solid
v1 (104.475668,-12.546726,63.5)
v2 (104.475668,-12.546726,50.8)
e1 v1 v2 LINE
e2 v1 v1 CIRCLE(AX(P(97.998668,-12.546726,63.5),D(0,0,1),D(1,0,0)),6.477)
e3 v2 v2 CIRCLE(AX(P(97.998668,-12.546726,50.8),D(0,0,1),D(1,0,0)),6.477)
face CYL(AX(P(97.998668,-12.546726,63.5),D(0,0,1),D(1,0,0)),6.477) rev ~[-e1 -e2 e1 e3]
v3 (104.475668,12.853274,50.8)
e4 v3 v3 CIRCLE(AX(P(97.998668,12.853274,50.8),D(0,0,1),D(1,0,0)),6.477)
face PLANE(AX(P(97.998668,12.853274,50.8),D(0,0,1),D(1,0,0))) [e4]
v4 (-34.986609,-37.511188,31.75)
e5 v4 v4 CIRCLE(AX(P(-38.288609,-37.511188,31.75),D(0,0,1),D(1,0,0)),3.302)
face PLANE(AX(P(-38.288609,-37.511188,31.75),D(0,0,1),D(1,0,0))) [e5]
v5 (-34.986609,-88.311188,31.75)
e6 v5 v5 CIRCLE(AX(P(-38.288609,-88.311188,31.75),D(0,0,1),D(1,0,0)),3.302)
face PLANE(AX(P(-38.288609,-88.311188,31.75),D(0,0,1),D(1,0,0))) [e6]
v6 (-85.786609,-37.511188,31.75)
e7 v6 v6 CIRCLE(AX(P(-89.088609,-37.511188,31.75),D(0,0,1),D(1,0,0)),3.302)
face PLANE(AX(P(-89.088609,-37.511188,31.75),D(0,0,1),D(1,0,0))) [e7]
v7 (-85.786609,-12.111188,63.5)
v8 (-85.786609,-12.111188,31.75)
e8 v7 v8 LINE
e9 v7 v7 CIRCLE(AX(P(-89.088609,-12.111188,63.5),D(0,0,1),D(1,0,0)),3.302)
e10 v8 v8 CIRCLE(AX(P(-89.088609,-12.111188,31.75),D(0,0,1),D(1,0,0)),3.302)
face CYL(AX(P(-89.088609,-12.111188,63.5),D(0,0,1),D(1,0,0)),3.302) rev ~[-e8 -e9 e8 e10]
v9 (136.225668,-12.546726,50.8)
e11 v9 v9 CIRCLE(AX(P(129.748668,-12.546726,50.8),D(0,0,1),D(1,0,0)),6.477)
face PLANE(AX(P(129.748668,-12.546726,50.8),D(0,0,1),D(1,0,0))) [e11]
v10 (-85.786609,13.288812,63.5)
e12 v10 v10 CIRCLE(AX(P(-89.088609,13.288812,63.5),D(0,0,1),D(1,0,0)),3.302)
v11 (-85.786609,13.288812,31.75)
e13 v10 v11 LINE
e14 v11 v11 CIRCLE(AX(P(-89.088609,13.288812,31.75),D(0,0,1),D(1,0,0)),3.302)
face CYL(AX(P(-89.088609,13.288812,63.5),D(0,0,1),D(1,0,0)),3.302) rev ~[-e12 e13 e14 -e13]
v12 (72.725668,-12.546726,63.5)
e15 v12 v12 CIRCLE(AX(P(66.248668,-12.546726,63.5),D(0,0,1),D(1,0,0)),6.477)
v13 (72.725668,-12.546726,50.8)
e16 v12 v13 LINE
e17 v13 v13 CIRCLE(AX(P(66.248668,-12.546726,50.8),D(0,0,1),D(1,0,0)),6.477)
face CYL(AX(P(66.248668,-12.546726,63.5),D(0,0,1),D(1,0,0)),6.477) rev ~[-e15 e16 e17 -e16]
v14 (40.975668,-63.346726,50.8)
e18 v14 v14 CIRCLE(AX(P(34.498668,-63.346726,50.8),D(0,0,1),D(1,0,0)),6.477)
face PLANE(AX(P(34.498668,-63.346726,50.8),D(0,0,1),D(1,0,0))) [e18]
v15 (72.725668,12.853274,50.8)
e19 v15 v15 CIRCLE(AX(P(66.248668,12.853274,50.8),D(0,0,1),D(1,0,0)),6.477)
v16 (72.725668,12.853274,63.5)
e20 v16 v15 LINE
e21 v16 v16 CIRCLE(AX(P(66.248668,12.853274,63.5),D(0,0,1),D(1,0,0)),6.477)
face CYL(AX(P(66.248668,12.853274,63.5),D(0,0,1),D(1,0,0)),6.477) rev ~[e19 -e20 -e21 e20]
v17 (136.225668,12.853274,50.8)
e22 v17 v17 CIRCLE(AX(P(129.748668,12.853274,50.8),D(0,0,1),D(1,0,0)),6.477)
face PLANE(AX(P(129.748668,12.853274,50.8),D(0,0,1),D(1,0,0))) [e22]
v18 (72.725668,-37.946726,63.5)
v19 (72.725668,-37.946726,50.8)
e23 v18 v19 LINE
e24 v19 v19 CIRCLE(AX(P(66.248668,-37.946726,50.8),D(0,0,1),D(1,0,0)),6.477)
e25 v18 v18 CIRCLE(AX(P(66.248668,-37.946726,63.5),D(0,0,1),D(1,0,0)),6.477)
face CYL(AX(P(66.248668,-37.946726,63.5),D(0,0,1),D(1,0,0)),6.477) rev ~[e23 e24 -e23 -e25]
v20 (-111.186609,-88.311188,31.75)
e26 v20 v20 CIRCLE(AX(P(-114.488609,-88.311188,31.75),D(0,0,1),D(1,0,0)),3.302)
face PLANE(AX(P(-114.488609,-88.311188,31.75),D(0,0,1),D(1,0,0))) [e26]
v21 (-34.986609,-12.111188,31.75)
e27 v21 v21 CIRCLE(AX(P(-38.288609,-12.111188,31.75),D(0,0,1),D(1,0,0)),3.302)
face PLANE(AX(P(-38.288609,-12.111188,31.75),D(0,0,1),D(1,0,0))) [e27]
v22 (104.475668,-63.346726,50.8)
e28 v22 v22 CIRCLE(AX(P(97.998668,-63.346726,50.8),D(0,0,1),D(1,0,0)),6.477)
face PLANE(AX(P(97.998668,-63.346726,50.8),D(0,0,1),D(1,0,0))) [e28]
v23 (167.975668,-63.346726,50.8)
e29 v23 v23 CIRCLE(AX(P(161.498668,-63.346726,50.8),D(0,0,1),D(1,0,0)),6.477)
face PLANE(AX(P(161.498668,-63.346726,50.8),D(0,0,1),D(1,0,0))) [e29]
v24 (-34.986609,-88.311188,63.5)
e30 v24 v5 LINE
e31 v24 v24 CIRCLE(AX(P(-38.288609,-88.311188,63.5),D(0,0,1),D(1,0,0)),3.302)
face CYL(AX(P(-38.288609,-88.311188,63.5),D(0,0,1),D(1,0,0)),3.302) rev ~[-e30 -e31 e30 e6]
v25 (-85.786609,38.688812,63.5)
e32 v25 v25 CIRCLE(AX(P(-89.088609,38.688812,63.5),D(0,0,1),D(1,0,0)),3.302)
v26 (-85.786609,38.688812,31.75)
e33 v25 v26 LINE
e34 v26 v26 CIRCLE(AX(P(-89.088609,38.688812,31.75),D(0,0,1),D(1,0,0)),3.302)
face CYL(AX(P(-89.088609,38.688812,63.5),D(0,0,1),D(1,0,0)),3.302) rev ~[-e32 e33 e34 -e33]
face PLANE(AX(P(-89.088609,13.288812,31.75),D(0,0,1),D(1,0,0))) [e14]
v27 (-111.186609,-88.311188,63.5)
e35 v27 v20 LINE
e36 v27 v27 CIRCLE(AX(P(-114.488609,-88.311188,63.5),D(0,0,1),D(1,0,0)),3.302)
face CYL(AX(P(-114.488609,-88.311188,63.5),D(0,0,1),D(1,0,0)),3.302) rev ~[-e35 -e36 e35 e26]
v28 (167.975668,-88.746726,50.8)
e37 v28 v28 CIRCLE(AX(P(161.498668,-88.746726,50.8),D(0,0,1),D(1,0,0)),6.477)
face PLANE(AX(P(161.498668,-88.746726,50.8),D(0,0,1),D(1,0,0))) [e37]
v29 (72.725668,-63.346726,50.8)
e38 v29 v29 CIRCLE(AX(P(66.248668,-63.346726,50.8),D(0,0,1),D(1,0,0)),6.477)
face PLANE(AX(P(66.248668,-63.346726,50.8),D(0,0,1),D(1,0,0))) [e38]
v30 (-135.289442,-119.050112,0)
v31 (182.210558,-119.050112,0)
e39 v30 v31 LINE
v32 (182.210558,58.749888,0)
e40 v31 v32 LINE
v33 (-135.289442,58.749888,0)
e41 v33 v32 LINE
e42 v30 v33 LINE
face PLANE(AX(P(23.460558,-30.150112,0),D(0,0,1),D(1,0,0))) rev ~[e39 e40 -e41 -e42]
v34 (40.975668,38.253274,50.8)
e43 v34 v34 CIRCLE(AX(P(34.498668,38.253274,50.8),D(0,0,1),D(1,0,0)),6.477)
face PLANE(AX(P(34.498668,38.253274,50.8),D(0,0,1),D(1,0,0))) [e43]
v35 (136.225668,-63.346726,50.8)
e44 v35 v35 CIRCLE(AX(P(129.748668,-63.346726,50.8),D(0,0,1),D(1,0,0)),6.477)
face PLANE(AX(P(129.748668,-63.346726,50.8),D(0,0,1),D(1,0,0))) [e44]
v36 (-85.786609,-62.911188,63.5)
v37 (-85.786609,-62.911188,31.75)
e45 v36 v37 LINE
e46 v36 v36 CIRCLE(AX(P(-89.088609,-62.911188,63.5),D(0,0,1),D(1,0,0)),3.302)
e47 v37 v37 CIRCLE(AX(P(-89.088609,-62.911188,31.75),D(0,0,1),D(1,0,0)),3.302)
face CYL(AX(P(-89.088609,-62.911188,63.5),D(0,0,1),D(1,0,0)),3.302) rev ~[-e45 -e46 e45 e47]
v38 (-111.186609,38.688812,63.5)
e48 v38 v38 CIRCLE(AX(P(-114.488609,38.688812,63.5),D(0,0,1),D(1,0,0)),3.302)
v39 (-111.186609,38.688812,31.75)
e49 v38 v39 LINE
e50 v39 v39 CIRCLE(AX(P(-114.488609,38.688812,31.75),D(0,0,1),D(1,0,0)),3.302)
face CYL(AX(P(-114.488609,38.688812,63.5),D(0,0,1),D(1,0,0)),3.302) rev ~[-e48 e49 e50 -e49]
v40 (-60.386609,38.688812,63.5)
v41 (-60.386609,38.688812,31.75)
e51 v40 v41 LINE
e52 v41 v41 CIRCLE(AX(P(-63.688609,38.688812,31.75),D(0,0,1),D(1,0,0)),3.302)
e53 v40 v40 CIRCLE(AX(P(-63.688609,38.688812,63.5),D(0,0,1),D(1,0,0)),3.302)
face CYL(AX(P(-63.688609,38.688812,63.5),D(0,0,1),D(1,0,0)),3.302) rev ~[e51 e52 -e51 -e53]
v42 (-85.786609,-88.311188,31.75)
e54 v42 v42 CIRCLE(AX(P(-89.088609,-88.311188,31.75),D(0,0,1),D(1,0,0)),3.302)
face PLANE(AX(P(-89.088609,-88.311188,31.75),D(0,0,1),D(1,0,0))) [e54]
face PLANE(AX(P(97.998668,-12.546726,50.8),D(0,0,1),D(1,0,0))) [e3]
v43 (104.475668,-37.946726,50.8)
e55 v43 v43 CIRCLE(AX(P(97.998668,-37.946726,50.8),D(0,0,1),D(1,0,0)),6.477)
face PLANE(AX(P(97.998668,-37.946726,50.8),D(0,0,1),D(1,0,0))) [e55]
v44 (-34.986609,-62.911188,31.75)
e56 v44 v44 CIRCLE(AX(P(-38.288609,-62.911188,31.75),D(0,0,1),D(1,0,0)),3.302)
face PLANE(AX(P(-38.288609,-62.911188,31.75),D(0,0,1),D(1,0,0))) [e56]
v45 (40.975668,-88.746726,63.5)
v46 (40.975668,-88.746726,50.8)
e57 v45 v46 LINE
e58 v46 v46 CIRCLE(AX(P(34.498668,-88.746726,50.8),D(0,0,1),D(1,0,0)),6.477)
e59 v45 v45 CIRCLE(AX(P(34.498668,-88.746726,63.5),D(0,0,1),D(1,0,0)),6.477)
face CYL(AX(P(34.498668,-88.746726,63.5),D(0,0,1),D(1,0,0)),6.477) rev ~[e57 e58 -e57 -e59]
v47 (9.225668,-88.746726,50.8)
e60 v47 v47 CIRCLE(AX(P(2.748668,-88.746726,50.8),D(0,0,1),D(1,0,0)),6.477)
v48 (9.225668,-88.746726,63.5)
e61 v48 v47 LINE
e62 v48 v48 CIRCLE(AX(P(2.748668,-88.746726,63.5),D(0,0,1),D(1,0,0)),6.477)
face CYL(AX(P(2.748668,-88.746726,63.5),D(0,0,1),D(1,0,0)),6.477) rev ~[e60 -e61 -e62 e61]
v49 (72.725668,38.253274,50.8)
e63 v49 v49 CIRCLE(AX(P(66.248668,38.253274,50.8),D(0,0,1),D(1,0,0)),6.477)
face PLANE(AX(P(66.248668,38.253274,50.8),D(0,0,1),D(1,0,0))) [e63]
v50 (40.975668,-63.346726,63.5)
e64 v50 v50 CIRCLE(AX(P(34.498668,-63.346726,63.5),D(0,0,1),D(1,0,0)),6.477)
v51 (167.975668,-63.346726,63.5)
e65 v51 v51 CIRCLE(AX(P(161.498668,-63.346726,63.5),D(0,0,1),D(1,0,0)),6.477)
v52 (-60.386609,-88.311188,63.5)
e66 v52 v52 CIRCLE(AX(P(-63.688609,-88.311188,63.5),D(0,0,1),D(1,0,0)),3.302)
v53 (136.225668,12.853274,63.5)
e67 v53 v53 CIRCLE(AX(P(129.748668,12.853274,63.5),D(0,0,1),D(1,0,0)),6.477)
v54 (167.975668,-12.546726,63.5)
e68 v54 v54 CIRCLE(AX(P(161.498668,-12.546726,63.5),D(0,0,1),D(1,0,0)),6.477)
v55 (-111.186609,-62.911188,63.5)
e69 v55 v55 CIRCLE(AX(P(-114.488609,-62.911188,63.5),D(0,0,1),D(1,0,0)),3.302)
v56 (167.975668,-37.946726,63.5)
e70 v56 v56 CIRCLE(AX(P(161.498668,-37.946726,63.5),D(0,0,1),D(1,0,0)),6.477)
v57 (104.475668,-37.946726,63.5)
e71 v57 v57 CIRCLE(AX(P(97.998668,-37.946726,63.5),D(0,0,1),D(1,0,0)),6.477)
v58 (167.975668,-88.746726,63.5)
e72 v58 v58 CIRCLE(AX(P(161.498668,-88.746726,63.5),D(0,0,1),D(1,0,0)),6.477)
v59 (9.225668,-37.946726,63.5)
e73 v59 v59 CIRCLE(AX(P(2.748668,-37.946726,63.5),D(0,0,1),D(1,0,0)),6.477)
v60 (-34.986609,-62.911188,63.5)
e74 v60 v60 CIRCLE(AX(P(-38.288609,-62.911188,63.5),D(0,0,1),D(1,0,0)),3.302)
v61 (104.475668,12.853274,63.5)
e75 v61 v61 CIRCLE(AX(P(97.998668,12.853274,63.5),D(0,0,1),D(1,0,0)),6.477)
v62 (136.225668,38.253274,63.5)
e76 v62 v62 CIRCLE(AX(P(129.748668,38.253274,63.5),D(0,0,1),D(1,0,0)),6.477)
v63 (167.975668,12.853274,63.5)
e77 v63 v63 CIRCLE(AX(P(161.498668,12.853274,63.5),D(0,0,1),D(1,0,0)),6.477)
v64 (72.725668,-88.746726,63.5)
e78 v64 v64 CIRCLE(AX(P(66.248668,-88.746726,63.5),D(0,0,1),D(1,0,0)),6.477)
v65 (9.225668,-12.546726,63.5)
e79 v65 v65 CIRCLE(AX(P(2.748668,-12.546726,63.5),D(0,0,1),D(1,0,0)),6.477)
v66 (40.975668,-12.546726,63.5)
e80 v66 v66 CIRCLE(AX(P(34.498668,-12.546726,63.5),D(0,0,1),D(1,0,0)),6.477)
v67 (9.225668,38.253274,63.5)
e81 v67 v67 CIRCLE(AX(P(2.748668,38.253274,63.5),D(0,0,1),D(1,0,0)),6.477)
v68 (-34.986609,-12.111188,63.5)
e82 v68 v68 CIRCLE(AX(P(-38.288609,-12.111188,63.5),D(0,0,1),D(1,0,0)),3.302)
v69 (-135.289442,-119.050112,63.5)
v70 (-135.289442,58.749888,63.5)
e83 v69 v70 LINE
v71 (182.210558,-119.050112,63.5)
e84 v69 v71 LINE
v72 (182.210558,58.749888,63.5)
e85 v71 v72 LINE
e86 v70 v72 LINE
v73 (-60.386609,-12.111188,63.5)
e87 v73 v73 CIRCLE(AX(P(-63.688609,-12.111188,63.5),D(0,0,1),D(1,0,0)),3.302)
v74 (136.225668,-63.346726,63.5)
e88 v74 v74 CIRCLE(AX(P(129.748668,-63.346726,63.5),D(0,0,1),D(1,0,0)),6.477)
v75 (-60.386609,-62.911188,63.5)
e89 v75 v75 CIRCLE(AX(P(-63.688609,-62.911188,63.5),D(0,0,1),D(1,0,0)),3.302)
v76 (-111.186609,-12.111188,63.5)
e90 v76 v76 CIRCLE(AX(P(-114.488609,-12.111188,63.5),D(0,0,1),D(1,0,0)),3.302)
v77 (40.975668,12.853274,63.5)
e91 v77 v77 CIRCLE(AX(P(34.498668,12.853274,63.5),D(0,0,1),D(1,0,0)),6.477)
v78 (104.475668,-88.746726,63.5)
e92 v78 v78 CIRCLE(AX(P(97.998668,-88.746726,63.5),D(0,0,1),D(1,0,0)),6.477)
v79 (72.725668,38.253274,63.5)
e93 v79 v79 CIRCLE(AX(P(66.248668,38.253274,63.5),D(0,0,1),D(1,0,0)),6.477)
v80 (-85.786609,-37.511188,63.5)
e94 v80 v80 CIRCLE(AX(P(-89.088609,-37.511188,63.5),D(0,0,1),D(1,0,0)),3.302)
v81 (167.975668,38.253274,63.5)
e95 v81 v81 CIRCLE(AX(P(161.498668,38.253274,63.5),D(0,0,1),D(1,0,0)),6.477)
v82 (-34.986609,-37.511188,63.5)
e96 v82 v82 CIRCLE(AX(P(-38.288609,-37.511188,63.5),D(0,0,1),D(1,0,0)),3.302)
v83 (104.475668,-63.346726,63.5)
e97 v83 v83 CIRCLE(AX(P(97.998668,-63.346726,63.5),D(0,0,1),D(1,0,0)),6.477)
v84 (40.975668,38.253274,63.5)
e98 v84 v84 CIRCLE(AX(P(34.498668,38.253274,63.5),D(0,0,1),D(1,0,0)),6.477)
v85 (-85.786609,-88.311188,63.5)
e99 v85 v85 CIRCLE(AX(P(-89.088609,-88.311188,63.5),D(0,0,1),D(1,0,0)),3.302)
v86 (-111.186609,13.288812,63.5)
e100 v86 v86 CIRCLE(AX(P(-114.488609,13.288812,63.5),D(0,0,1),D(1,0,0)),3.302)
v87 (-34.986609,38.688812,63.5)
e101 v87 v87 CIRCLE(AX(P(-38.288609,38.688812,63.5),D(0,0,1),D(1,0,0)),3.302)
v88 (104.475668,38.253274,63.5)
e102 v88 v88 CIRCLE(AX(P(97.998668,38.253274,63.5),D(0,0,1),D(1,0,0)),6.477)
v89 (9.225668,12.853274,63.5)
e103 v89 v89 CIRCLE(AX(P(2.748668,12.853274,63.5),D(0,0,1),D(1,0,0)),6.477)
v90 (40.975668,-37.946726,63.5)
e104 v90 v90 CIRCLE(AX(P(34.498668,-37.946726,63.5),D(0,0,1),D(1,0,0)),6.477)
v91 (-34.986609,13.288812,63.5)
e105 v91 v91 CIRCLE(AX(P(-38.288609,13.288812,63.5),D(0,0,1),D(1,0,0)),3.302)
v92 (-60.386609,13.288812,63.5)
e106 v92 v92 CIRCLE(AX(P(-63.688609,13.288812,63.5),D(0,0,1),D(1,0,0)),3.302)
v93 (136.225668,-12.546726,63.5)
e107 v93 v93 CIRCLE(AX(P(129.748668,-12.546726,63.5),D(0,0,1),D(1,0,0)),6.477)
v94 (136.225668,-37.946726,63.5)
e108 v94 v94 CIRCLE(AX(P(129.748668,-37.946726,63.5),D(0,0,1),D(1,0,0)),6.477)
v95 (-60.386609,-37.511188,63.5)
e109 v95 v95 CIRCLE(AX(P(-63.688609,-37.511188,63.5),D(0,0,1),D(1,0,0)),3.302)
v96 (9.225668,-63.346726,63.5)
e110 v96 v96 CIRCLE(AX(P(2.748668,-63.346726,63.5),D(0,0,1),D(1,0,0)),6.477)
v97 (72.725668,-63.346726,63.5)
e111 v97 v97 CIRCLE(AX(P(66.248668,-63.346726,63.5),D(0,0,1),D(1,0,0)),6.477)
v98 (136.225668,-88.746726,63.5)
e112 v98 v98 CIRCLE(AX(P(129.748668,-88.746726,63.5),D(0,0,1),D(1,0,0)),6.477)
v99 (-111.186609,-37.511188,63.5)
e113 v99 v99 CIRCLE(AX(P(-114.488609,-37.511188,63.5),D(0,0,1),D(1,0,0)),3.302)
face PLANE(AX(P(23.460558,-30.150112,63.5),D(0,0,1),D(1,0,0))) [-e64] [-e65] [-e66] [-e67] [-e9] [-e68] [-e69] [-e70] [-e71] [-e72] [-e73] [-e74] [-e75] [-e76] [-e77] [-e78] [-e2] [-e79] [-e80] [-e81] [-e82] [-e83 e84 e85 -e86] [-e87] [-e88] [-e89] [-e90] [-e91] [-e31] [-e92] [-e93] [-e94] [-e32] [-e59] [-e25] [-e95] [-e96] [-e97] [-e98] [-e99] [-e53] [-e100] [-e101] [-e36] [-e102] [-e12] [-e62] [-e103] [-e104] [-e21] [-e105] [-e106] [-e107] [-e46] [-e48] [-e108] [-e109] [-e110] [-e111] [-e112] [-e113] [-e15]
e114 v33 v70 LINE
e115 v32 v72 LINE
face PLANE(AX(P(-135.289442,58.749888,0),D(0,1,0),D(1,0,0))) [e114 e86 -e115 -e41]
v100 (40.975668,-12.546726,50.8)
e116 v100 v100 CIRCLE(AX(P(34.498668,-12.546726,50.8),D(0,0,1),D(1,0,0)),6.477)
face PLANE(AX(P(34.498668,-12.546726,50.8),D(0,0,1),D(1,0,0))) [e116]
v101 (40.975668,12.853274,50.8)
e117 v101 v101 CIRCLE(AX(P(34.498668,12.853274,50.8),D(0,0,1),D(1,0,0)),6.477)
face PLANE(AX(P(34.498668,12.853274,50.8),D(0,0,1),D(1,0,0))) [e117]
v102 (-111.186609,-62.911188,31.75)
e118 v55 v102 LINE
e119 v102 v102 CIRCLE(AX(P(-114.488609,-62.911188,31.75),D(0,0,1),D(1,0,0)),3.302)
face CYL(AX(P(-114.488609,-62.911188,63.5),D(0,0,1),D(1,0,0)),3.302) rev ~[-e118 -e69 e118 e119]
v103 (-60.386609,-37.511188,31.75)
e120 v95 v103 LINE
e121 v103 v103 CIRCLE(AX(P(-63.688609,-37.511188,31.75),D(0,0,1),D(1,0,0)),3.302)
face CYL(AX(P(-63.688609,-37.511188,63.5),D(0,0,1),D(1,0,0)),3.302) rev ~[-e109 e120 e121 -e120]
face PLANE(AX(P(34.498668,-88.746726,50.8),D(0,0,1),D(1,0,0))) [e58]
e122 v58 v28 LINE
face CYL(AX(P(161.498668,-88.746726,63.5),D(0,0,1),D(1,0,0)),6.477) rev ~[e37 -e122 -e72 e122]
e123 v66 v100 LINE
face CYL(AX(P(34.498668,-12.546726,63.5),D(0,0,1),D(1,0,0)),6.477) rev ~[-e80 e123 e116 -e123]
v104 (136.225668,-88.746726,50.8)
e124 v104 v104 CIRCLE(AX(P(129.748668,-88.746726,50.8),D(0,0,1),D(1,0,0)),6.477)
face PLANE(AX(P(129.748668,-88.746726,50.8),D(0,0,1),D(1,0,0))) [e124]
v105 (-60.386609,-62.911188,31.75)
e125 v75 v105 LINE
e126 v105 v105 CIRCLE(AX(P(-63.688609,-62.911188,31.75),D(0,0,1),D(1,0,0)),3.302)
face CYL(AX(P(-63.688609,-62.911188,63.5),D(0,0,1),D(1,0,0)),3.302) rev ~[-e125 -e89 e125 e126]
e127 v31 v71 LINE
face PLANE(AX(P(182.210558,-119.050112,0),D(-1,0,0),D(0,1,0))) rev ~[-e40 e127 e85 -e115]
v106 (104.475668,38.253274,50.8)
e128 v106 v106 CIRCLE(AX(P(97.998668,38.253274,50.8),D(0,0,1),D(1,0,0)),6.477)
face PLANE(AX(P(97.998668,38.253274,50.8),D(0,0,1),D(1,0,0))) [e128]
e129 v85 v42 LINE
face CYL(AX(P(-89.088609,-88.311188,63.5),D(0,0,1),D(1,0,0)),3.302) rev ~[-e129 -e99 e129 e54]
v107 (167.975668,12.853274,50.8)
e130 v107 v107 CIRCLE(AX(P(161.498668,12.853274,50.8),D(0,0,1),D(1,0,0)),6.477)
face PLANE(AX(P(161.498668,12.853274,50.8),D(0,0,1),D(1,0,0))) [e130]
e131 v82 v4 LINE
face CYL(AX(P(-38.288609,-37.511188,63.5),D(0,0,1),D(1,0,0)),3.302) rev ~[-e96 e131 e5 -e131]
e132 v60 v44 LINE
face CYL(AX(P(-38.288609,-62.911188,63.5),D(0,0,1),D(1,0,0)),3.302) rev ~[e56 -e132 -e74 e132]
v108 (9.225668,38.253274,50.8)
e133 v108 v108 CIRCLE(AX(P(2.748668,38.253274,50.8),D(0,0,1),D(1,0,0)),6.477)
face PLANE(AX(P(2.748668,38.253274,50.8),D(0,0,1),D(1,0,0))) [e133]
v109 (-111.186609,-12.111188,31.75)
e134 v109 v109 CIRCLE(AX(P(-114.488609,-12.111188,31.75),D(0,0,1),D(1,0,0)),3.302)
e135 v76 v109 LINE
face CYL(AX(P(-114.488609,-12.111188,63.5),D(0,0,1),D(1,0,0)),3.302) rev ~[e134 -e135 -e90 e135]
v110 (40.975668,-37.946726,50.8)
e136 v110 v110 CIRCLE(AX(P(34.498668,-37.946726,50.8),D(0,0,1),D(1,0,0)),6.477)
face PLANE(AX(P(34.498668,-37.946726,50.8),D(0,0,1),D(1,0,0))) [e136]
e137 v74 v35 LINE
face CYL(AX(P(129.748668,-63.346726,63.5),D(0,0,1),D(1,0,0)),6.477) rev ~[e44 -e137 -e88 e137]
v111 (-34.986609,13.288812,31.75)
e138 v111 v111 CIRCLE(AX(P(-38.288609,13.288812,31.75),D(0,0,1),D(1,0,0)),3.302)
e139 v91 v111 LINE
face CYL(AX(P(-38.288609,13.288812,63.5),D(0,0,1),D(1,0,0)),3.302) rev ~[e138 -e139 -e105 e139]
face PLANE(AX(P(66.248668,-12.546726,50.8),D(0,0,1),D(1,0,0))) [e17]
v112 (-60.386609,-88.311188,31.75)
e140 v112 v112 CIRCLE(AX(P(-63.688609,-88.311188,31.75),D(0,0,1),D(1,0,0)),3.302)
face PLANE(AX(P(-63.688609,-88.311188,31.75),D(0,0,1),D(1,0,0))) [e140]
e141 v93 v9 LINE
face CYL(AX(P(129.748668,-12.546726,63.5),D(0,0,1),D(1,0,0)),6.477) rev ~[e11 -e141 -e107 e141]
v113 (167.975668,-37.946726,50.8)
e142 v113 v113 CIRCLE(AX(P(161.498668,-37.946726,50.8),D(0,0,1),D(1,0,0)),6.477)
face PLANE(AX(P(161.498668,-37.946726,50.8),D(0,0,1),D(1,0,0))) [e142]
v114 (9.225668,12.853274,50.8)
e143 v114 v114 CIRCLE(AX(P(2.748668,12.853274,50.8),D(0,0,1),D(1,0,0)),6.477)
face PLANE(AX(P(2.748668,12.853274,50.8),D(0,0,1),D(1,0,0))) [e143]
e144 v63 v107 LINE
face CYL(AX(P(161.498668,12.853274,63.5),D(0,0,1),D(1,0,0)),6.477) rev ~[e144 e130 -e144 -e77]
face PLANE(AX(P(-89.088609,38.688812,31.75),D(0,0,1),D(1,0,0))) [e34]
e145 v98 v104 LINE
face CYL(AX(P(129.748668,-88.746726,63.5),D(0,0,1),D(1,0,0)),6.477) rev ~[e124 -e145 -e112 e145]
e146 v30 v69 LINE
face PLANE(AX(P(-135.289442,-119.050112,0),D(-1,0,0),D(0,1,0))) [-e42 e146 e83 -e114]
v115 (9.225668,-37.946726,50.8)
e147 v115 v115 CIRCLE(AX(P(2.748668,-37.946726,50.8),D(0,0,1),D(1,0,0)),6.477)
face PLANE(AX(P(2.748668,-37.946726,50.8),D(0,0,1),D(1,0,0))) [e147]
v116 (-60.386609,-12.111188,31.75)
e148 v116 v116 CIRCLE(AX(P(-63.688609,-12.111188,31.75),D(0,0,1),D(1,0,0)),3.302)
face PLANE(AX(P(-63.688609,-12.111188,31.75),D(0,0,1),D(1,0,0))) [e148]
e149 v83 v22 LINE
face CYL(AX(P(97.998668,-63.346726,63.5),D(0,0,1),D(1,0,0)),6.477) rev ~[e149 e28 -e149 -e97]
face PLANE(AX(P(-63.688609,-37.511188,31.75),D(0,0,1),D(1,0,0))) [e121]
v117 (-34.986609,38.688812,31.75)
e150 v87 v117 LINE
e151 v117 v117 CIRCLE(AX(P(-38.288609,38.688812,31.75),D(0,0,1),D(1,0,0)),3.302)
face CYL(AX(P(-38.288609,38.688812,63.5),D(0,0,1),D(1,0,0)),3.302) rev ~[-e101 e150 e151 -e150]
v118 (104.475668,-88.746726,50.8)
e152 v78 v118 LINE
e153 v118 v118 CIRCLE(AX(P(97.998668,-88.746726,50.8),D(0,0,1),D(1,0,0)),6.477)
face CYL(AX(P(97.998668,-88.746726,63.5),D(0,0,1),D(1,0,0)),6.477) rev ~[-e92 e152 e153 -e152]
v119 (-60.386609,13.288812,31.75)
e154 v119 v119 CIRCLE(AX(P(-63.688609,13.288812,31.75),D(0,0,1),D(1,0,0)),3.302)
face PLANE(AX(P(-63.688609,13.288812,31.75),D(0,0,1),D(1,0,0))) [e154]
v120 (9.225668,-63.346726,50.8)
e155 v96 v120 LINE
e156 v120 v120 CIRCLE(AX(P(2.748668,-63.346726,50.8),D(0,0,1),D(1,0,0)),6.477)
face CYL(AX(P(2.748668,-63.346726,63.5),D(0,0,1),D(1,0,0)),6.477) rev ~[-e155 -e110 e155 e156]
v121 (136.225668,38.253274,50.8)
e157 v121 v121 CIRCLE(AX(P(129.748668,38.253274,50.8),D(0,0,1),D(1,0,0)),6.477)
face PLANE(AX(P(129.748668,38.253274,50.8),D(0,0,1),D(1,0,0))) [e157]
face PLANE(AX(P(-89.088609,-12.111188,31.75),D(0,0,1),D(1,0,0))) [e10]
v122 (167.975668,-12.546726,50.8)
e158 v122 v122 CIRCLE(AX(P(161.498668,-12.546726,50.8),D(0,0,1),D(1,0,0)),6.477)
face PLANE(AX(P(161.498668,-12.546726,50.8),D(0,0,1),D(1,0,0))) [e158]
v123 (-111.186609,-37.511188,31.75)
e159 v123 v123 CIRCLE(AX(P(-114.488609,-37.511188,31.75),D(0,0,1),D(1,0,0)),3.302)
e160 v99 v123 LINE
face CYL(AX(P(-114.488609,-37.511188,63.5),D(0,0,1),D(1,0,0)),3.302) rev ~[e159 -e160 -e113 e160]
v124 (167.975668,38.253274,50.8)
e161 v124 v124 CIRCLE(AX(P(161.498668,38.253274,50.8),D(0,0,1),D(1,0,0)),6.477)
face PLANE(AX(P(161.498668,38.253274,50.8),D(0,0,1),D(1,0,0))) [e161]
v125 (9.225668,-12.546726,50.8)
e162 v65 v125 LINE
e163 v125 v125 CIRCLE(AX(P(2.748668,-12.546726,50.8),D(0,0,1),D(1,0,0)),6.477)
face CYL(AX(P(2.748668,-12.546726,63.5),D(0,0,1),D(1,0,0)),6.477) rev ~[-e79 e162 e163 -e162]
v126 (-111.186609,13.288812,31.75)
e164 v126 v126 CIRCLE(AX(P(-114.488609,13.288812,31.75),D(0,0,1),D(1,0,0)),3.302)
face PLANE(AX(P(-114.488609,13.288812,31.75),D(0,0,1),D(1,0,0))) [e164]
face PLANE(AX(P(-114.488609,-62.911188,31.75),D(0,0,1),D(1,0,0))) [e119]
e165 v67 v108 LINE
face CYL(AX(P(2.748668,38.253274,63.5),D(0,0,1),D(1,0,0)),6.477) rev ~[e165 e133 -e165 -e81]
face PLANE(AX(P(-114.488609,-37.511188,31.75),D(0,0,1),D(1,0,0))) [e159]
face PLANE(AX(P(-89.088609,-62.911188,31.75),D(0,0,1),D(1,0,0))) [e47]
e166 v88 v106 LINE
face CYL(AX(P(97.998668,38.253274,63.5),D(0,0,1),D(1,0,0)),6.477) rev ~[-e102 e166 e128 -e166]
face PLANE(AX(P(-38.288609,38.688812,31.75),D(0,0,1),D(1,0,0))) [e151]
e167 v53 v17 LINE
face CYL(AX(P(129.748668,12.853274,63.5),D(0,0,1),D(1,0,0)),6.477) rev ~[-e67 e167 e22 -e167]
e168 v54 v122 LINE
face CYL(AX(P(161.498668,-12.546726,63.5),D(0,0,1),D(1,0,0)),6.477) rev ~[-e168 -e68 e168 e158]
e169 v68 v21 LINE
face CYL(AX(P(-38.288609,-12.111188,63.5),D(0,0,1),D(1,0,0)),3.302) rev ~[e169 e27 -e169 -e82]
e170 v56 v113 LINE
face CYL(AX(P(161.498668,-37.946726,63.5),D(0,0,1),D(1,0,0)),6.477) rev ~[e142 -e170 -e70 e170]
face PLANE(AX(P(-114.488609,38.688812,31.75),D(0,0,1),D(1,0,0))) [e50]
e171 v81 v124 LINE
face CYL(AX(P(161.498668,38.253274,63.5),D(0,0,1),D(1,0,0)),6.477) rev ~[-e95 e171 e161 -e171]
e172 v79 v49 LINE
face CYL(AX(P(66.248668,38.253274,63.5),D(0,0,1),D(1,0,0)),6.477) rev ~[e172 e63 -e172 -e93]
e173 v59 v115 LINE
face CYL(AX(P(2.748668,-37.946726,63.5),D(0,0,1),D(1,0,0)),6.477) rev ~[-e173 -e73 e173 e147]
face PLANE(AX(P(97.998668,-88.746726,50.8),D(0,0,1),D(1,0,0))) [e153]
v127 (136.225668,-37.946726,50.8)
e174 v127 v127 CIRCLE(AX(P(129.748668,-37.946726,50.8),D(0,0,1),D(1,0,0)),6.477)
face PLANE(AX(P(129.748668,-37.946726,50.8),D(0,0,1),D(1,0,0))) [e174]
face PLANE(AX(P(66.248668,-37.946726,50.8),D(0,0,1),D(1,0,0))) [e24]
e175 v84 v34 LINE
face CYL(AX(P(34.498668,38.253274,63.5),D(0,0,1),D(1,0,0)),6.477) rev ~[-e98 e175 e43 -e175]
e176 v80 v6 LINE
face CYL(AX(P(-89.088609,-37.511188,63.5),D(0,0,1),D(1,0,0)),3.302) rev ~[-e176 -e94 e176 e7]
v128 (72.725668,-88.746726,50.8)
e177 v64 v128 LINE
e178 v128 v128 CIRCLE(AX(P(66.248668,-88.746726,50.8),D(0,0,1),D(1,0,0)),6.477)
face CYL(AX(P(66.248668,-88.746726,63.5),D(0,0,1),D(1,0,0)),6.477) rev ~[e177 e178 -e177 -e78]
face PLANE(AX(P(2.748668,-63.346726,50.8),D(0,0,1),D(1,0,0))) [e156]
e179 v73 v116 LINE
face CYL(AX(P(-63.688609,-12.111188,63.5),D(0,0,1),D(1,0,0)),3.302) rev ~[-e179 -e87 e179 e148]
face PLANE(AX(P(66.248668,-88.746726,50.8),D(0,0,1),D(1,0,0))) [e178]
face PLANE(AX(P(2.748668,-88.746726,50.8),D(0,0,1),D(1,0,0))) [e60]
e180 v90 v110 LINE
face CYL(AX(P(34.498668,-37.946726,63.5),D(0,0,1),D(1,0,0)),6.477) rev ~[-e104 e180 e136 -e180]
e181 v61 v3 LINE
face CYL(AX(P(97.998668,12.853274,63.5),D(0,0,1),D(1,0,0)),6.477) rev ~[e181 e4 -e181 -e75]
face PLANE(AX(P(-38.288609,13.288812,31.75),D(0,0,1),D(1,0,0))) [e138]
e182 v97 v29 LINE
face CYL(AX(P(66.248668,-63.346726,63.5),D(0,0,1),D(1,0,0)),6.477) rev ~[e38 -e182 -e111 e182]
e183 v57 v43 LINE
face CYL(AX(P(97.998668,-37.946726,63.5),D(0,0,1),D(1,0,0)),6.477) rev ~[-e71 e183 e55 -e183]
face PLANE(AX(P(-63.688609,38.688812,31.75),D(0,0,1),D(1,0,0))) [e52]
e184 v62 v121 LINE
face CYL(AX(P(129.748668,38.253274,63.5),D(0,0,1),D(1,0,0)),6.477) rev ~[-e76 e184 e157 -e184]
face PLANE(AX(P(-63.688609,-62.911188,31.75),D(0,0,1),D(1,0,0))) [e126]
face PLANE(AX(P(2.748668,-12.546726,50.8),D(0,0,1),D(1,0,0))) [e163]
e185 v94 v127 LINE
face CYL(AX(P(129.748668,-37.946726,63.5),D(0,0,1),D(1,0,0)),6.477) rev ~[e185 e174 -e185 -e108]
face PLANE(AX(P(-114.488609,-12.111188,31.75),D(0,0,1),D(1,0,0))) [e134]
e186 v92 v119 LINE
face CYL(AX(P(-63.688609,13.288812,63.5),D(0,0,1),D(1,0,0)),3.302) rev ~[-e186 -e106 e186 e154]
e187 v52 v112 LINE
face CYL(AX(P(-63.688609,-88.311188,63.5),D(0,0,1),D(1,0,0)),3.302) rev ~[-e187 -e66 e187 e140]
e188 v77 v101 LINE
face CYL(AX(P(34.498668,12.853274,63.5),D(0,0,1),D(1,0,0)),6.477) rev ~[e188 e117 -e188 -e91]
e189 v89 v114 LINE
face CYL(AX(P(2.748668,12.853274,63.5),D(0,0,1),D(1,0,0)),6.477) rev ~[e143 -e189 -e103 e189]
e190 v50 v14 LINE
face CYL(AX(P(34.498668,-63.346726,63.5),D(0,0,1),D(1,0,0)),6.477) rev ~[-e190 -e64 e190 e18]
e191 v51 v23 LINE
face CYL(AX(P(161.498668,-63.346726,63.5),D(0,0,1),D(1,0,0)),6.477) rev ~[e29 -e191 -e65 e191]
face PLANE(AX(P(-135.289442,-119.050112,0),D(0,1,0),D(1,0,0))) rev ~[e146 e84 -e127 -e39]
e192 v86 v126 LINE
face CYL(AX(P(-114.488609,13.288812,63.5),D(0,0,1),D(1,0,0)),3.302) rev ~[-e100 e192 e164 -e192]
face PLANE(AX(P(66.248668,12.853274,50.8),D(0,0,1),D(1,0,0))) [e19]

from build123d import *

# Parameters (mm, degrees)
F0_W     = 317.5
F0_H     = 177.8
F1_DEPTH = 63.5
F2_R     = 3.302
F3_DEPTH = 31.75
F4_R     = 6.477
F5_DEPTH = 12.7


with BuildPart() as f1:
    # F0 (on Top) → F1 (new body)
    with BuildSketch(Plane.XY):
        with Locations((23.460558, -30.150112)):
            Rectangle(F0_W, F0_H)
    extrude(amount=F1_DEPTH)

    # F2 (on face) → F3 (cut)
    with BuildSketch(Plane.XY.offset(63.5)):
        with Locations((-114.488609, 38.688812)):
            Circle(F2_R)
        with Locations((-114.488609, 13.288812)):
            Circle(F2_R)
        with Locations((-114.488609, -12.111188)):
            Circle(F2_R)
        with Locations((-114.488609, -37.511188)):
            Circle(F2_R)
        with Locations((-114.488609, -62.911188)):
            Circle(F2_R)
        with Locations((-114.488609, -88.311188)):
            Circle(F2_R)
        with Locations((-89.088609, 38.688812)):
            Circle(F2_R)
        with Locations((-89.088609, 13.288812)):
            Circle(F2_R)
        with Locations((-89.088609, -12.111188)):
            Circle(F2_R)
        with Locations((-89.088609, -37.511188)):
            Circle(F2_R)
        with Locations((-89.088609, -62.911188)):
            Circle(F2_R)
        with Locations((-89.088609, -88.311188)):
            Circle(F2_R)
        with Locations((-63.688609, 38.688812)):
            Circle(F2_R)
        with Locations((-63.688609, 13.288812)):
            Circle(F2_R)
        with Locations((-63.688609, -12.111188)):
            Circle(F2_R)
        with Locations((-63.688609, -37.511188)):
            Circle(F2_R)
        with Locations((-63.688609, -62.911188)):
            Circle(F2_R)
        with Locations((-63.688609, -88.311188)):
            Circle(F2_R)
        with Locations((-38.288609, 38.688812)):
            Circle(F2_R)
        with Locations((-38.288609, 13.288812)):
            Circle(F2_R)
        with Locations((-38.288609, -12.111188)):
            Circle(F2_R)
        with Locations((-38.288609, -37.511188)):
            Circle(F2_R)
        with Locations((-38.288609, -62.911188)):
            Circle(F2_R)
        with Locations((-38.288609, -88.311188)):
            Circle(F2_R)
    extrude(amount=-F3_DEPTH, mode=Mode.SUBTRACT)

    # F4 (on face) → F5 (cut)
    with BuildSketch(Plane.XY.offset(63.5)):
        with Locations((2.748668, 38.253274)):
            Circle(F4_R)
        with Locations((2.748668, 12.853274)):
            Circle(F4_R)
        with Locations((2.748668, -12.546726)):
            Circle(F4_R)
        with Locations((2.748668, -37.946726)):
            Circle(F4_R)
        with Locations((2.748668, -63.346726)):
            Circle(F4_R)
        with Locations((2.748668, -88.746726)):
            Circle(F4_R)
        with Locations((34.498668, 38.253274)):
            Circle(F4_R)
        with Locations((34.498668, 12.853274)):
            Circle(F4_R)
        with Locations((34.498668, -12.546726)):
            Circle(F4_R)
        with Locations((34.498668, -37.946726)):
            Circle(F4_R)
        with Locations((34.498668, -63.346726)):
            Circle(F4_R)
        with Locations((34.498668, -88.746726)):
            Circle(F4_R)
        with Locations((66.248668, 38.253274)):
            Circle(F4_R)
        with Locations((66.248668, 12.853274)):
            Circle(F4_R)
        with Locations((66.248668, -12.546726)):
            Circle(F4_R)
        with Locations((66.248668, -37.946726)):
            Circle(F4_R)
        with Locations((66.248668, -63.346726)):
            Circle(F4_R)
        with Locations((66.248668, -88.746726)):
            Circle(F4_R)
        with Locations((97.998668, 38.253274)):
            Circle(F4_R)
        with Locations((97.998668, 12.853274)):
            Circle(F4_R)
        with Locations((97.998668, -12.546726)):
            Circle(F4_R)
        with Locations((97.998668, -37.946726)):
            Circle(F4_R)
        with Locations((97.998668, -63.346726)):
            Circle(F4_R)
        with Locations((97.998668, -88.746726)):
            Circle(F4_R)
        with Locations((129.748668, 38.253274)):
            Circle(F4_R)
        with Locations((129.748668, 12.853274)):
            Circle(F4_R)
        with Locations((129.748668, -12.546726)):
            Circle(F4_R)
        with Locations((129.748668, -37.946726)):
            Circle(F4_R)
        with Locations((129.748668, -63.346726)):
            Circle(F4_R)
        with Locations((129.748668, -88.746726)):
            Circle(F4_R)
        with Locations((161.498668, 38.253274)):
            Circle(F4_R)
        with Locations((161.498668, 12.853274)):
            Circle(F4_R)
        with Locations((161.498668, -12.546726)):
            Circle(F4_R)
        with Locations((161.498668, -37.946726)):
            Circle(F4_R)
        with Locations((161.498668, -63.346726)):
            Circle(F4_R)
        with Locations((161.498668, -88.746726)):
            Circle(F4_R)
    extrude(amount=-F5_DEPTH, mode=Mode.SUBTRACT)


solid = f1.part
